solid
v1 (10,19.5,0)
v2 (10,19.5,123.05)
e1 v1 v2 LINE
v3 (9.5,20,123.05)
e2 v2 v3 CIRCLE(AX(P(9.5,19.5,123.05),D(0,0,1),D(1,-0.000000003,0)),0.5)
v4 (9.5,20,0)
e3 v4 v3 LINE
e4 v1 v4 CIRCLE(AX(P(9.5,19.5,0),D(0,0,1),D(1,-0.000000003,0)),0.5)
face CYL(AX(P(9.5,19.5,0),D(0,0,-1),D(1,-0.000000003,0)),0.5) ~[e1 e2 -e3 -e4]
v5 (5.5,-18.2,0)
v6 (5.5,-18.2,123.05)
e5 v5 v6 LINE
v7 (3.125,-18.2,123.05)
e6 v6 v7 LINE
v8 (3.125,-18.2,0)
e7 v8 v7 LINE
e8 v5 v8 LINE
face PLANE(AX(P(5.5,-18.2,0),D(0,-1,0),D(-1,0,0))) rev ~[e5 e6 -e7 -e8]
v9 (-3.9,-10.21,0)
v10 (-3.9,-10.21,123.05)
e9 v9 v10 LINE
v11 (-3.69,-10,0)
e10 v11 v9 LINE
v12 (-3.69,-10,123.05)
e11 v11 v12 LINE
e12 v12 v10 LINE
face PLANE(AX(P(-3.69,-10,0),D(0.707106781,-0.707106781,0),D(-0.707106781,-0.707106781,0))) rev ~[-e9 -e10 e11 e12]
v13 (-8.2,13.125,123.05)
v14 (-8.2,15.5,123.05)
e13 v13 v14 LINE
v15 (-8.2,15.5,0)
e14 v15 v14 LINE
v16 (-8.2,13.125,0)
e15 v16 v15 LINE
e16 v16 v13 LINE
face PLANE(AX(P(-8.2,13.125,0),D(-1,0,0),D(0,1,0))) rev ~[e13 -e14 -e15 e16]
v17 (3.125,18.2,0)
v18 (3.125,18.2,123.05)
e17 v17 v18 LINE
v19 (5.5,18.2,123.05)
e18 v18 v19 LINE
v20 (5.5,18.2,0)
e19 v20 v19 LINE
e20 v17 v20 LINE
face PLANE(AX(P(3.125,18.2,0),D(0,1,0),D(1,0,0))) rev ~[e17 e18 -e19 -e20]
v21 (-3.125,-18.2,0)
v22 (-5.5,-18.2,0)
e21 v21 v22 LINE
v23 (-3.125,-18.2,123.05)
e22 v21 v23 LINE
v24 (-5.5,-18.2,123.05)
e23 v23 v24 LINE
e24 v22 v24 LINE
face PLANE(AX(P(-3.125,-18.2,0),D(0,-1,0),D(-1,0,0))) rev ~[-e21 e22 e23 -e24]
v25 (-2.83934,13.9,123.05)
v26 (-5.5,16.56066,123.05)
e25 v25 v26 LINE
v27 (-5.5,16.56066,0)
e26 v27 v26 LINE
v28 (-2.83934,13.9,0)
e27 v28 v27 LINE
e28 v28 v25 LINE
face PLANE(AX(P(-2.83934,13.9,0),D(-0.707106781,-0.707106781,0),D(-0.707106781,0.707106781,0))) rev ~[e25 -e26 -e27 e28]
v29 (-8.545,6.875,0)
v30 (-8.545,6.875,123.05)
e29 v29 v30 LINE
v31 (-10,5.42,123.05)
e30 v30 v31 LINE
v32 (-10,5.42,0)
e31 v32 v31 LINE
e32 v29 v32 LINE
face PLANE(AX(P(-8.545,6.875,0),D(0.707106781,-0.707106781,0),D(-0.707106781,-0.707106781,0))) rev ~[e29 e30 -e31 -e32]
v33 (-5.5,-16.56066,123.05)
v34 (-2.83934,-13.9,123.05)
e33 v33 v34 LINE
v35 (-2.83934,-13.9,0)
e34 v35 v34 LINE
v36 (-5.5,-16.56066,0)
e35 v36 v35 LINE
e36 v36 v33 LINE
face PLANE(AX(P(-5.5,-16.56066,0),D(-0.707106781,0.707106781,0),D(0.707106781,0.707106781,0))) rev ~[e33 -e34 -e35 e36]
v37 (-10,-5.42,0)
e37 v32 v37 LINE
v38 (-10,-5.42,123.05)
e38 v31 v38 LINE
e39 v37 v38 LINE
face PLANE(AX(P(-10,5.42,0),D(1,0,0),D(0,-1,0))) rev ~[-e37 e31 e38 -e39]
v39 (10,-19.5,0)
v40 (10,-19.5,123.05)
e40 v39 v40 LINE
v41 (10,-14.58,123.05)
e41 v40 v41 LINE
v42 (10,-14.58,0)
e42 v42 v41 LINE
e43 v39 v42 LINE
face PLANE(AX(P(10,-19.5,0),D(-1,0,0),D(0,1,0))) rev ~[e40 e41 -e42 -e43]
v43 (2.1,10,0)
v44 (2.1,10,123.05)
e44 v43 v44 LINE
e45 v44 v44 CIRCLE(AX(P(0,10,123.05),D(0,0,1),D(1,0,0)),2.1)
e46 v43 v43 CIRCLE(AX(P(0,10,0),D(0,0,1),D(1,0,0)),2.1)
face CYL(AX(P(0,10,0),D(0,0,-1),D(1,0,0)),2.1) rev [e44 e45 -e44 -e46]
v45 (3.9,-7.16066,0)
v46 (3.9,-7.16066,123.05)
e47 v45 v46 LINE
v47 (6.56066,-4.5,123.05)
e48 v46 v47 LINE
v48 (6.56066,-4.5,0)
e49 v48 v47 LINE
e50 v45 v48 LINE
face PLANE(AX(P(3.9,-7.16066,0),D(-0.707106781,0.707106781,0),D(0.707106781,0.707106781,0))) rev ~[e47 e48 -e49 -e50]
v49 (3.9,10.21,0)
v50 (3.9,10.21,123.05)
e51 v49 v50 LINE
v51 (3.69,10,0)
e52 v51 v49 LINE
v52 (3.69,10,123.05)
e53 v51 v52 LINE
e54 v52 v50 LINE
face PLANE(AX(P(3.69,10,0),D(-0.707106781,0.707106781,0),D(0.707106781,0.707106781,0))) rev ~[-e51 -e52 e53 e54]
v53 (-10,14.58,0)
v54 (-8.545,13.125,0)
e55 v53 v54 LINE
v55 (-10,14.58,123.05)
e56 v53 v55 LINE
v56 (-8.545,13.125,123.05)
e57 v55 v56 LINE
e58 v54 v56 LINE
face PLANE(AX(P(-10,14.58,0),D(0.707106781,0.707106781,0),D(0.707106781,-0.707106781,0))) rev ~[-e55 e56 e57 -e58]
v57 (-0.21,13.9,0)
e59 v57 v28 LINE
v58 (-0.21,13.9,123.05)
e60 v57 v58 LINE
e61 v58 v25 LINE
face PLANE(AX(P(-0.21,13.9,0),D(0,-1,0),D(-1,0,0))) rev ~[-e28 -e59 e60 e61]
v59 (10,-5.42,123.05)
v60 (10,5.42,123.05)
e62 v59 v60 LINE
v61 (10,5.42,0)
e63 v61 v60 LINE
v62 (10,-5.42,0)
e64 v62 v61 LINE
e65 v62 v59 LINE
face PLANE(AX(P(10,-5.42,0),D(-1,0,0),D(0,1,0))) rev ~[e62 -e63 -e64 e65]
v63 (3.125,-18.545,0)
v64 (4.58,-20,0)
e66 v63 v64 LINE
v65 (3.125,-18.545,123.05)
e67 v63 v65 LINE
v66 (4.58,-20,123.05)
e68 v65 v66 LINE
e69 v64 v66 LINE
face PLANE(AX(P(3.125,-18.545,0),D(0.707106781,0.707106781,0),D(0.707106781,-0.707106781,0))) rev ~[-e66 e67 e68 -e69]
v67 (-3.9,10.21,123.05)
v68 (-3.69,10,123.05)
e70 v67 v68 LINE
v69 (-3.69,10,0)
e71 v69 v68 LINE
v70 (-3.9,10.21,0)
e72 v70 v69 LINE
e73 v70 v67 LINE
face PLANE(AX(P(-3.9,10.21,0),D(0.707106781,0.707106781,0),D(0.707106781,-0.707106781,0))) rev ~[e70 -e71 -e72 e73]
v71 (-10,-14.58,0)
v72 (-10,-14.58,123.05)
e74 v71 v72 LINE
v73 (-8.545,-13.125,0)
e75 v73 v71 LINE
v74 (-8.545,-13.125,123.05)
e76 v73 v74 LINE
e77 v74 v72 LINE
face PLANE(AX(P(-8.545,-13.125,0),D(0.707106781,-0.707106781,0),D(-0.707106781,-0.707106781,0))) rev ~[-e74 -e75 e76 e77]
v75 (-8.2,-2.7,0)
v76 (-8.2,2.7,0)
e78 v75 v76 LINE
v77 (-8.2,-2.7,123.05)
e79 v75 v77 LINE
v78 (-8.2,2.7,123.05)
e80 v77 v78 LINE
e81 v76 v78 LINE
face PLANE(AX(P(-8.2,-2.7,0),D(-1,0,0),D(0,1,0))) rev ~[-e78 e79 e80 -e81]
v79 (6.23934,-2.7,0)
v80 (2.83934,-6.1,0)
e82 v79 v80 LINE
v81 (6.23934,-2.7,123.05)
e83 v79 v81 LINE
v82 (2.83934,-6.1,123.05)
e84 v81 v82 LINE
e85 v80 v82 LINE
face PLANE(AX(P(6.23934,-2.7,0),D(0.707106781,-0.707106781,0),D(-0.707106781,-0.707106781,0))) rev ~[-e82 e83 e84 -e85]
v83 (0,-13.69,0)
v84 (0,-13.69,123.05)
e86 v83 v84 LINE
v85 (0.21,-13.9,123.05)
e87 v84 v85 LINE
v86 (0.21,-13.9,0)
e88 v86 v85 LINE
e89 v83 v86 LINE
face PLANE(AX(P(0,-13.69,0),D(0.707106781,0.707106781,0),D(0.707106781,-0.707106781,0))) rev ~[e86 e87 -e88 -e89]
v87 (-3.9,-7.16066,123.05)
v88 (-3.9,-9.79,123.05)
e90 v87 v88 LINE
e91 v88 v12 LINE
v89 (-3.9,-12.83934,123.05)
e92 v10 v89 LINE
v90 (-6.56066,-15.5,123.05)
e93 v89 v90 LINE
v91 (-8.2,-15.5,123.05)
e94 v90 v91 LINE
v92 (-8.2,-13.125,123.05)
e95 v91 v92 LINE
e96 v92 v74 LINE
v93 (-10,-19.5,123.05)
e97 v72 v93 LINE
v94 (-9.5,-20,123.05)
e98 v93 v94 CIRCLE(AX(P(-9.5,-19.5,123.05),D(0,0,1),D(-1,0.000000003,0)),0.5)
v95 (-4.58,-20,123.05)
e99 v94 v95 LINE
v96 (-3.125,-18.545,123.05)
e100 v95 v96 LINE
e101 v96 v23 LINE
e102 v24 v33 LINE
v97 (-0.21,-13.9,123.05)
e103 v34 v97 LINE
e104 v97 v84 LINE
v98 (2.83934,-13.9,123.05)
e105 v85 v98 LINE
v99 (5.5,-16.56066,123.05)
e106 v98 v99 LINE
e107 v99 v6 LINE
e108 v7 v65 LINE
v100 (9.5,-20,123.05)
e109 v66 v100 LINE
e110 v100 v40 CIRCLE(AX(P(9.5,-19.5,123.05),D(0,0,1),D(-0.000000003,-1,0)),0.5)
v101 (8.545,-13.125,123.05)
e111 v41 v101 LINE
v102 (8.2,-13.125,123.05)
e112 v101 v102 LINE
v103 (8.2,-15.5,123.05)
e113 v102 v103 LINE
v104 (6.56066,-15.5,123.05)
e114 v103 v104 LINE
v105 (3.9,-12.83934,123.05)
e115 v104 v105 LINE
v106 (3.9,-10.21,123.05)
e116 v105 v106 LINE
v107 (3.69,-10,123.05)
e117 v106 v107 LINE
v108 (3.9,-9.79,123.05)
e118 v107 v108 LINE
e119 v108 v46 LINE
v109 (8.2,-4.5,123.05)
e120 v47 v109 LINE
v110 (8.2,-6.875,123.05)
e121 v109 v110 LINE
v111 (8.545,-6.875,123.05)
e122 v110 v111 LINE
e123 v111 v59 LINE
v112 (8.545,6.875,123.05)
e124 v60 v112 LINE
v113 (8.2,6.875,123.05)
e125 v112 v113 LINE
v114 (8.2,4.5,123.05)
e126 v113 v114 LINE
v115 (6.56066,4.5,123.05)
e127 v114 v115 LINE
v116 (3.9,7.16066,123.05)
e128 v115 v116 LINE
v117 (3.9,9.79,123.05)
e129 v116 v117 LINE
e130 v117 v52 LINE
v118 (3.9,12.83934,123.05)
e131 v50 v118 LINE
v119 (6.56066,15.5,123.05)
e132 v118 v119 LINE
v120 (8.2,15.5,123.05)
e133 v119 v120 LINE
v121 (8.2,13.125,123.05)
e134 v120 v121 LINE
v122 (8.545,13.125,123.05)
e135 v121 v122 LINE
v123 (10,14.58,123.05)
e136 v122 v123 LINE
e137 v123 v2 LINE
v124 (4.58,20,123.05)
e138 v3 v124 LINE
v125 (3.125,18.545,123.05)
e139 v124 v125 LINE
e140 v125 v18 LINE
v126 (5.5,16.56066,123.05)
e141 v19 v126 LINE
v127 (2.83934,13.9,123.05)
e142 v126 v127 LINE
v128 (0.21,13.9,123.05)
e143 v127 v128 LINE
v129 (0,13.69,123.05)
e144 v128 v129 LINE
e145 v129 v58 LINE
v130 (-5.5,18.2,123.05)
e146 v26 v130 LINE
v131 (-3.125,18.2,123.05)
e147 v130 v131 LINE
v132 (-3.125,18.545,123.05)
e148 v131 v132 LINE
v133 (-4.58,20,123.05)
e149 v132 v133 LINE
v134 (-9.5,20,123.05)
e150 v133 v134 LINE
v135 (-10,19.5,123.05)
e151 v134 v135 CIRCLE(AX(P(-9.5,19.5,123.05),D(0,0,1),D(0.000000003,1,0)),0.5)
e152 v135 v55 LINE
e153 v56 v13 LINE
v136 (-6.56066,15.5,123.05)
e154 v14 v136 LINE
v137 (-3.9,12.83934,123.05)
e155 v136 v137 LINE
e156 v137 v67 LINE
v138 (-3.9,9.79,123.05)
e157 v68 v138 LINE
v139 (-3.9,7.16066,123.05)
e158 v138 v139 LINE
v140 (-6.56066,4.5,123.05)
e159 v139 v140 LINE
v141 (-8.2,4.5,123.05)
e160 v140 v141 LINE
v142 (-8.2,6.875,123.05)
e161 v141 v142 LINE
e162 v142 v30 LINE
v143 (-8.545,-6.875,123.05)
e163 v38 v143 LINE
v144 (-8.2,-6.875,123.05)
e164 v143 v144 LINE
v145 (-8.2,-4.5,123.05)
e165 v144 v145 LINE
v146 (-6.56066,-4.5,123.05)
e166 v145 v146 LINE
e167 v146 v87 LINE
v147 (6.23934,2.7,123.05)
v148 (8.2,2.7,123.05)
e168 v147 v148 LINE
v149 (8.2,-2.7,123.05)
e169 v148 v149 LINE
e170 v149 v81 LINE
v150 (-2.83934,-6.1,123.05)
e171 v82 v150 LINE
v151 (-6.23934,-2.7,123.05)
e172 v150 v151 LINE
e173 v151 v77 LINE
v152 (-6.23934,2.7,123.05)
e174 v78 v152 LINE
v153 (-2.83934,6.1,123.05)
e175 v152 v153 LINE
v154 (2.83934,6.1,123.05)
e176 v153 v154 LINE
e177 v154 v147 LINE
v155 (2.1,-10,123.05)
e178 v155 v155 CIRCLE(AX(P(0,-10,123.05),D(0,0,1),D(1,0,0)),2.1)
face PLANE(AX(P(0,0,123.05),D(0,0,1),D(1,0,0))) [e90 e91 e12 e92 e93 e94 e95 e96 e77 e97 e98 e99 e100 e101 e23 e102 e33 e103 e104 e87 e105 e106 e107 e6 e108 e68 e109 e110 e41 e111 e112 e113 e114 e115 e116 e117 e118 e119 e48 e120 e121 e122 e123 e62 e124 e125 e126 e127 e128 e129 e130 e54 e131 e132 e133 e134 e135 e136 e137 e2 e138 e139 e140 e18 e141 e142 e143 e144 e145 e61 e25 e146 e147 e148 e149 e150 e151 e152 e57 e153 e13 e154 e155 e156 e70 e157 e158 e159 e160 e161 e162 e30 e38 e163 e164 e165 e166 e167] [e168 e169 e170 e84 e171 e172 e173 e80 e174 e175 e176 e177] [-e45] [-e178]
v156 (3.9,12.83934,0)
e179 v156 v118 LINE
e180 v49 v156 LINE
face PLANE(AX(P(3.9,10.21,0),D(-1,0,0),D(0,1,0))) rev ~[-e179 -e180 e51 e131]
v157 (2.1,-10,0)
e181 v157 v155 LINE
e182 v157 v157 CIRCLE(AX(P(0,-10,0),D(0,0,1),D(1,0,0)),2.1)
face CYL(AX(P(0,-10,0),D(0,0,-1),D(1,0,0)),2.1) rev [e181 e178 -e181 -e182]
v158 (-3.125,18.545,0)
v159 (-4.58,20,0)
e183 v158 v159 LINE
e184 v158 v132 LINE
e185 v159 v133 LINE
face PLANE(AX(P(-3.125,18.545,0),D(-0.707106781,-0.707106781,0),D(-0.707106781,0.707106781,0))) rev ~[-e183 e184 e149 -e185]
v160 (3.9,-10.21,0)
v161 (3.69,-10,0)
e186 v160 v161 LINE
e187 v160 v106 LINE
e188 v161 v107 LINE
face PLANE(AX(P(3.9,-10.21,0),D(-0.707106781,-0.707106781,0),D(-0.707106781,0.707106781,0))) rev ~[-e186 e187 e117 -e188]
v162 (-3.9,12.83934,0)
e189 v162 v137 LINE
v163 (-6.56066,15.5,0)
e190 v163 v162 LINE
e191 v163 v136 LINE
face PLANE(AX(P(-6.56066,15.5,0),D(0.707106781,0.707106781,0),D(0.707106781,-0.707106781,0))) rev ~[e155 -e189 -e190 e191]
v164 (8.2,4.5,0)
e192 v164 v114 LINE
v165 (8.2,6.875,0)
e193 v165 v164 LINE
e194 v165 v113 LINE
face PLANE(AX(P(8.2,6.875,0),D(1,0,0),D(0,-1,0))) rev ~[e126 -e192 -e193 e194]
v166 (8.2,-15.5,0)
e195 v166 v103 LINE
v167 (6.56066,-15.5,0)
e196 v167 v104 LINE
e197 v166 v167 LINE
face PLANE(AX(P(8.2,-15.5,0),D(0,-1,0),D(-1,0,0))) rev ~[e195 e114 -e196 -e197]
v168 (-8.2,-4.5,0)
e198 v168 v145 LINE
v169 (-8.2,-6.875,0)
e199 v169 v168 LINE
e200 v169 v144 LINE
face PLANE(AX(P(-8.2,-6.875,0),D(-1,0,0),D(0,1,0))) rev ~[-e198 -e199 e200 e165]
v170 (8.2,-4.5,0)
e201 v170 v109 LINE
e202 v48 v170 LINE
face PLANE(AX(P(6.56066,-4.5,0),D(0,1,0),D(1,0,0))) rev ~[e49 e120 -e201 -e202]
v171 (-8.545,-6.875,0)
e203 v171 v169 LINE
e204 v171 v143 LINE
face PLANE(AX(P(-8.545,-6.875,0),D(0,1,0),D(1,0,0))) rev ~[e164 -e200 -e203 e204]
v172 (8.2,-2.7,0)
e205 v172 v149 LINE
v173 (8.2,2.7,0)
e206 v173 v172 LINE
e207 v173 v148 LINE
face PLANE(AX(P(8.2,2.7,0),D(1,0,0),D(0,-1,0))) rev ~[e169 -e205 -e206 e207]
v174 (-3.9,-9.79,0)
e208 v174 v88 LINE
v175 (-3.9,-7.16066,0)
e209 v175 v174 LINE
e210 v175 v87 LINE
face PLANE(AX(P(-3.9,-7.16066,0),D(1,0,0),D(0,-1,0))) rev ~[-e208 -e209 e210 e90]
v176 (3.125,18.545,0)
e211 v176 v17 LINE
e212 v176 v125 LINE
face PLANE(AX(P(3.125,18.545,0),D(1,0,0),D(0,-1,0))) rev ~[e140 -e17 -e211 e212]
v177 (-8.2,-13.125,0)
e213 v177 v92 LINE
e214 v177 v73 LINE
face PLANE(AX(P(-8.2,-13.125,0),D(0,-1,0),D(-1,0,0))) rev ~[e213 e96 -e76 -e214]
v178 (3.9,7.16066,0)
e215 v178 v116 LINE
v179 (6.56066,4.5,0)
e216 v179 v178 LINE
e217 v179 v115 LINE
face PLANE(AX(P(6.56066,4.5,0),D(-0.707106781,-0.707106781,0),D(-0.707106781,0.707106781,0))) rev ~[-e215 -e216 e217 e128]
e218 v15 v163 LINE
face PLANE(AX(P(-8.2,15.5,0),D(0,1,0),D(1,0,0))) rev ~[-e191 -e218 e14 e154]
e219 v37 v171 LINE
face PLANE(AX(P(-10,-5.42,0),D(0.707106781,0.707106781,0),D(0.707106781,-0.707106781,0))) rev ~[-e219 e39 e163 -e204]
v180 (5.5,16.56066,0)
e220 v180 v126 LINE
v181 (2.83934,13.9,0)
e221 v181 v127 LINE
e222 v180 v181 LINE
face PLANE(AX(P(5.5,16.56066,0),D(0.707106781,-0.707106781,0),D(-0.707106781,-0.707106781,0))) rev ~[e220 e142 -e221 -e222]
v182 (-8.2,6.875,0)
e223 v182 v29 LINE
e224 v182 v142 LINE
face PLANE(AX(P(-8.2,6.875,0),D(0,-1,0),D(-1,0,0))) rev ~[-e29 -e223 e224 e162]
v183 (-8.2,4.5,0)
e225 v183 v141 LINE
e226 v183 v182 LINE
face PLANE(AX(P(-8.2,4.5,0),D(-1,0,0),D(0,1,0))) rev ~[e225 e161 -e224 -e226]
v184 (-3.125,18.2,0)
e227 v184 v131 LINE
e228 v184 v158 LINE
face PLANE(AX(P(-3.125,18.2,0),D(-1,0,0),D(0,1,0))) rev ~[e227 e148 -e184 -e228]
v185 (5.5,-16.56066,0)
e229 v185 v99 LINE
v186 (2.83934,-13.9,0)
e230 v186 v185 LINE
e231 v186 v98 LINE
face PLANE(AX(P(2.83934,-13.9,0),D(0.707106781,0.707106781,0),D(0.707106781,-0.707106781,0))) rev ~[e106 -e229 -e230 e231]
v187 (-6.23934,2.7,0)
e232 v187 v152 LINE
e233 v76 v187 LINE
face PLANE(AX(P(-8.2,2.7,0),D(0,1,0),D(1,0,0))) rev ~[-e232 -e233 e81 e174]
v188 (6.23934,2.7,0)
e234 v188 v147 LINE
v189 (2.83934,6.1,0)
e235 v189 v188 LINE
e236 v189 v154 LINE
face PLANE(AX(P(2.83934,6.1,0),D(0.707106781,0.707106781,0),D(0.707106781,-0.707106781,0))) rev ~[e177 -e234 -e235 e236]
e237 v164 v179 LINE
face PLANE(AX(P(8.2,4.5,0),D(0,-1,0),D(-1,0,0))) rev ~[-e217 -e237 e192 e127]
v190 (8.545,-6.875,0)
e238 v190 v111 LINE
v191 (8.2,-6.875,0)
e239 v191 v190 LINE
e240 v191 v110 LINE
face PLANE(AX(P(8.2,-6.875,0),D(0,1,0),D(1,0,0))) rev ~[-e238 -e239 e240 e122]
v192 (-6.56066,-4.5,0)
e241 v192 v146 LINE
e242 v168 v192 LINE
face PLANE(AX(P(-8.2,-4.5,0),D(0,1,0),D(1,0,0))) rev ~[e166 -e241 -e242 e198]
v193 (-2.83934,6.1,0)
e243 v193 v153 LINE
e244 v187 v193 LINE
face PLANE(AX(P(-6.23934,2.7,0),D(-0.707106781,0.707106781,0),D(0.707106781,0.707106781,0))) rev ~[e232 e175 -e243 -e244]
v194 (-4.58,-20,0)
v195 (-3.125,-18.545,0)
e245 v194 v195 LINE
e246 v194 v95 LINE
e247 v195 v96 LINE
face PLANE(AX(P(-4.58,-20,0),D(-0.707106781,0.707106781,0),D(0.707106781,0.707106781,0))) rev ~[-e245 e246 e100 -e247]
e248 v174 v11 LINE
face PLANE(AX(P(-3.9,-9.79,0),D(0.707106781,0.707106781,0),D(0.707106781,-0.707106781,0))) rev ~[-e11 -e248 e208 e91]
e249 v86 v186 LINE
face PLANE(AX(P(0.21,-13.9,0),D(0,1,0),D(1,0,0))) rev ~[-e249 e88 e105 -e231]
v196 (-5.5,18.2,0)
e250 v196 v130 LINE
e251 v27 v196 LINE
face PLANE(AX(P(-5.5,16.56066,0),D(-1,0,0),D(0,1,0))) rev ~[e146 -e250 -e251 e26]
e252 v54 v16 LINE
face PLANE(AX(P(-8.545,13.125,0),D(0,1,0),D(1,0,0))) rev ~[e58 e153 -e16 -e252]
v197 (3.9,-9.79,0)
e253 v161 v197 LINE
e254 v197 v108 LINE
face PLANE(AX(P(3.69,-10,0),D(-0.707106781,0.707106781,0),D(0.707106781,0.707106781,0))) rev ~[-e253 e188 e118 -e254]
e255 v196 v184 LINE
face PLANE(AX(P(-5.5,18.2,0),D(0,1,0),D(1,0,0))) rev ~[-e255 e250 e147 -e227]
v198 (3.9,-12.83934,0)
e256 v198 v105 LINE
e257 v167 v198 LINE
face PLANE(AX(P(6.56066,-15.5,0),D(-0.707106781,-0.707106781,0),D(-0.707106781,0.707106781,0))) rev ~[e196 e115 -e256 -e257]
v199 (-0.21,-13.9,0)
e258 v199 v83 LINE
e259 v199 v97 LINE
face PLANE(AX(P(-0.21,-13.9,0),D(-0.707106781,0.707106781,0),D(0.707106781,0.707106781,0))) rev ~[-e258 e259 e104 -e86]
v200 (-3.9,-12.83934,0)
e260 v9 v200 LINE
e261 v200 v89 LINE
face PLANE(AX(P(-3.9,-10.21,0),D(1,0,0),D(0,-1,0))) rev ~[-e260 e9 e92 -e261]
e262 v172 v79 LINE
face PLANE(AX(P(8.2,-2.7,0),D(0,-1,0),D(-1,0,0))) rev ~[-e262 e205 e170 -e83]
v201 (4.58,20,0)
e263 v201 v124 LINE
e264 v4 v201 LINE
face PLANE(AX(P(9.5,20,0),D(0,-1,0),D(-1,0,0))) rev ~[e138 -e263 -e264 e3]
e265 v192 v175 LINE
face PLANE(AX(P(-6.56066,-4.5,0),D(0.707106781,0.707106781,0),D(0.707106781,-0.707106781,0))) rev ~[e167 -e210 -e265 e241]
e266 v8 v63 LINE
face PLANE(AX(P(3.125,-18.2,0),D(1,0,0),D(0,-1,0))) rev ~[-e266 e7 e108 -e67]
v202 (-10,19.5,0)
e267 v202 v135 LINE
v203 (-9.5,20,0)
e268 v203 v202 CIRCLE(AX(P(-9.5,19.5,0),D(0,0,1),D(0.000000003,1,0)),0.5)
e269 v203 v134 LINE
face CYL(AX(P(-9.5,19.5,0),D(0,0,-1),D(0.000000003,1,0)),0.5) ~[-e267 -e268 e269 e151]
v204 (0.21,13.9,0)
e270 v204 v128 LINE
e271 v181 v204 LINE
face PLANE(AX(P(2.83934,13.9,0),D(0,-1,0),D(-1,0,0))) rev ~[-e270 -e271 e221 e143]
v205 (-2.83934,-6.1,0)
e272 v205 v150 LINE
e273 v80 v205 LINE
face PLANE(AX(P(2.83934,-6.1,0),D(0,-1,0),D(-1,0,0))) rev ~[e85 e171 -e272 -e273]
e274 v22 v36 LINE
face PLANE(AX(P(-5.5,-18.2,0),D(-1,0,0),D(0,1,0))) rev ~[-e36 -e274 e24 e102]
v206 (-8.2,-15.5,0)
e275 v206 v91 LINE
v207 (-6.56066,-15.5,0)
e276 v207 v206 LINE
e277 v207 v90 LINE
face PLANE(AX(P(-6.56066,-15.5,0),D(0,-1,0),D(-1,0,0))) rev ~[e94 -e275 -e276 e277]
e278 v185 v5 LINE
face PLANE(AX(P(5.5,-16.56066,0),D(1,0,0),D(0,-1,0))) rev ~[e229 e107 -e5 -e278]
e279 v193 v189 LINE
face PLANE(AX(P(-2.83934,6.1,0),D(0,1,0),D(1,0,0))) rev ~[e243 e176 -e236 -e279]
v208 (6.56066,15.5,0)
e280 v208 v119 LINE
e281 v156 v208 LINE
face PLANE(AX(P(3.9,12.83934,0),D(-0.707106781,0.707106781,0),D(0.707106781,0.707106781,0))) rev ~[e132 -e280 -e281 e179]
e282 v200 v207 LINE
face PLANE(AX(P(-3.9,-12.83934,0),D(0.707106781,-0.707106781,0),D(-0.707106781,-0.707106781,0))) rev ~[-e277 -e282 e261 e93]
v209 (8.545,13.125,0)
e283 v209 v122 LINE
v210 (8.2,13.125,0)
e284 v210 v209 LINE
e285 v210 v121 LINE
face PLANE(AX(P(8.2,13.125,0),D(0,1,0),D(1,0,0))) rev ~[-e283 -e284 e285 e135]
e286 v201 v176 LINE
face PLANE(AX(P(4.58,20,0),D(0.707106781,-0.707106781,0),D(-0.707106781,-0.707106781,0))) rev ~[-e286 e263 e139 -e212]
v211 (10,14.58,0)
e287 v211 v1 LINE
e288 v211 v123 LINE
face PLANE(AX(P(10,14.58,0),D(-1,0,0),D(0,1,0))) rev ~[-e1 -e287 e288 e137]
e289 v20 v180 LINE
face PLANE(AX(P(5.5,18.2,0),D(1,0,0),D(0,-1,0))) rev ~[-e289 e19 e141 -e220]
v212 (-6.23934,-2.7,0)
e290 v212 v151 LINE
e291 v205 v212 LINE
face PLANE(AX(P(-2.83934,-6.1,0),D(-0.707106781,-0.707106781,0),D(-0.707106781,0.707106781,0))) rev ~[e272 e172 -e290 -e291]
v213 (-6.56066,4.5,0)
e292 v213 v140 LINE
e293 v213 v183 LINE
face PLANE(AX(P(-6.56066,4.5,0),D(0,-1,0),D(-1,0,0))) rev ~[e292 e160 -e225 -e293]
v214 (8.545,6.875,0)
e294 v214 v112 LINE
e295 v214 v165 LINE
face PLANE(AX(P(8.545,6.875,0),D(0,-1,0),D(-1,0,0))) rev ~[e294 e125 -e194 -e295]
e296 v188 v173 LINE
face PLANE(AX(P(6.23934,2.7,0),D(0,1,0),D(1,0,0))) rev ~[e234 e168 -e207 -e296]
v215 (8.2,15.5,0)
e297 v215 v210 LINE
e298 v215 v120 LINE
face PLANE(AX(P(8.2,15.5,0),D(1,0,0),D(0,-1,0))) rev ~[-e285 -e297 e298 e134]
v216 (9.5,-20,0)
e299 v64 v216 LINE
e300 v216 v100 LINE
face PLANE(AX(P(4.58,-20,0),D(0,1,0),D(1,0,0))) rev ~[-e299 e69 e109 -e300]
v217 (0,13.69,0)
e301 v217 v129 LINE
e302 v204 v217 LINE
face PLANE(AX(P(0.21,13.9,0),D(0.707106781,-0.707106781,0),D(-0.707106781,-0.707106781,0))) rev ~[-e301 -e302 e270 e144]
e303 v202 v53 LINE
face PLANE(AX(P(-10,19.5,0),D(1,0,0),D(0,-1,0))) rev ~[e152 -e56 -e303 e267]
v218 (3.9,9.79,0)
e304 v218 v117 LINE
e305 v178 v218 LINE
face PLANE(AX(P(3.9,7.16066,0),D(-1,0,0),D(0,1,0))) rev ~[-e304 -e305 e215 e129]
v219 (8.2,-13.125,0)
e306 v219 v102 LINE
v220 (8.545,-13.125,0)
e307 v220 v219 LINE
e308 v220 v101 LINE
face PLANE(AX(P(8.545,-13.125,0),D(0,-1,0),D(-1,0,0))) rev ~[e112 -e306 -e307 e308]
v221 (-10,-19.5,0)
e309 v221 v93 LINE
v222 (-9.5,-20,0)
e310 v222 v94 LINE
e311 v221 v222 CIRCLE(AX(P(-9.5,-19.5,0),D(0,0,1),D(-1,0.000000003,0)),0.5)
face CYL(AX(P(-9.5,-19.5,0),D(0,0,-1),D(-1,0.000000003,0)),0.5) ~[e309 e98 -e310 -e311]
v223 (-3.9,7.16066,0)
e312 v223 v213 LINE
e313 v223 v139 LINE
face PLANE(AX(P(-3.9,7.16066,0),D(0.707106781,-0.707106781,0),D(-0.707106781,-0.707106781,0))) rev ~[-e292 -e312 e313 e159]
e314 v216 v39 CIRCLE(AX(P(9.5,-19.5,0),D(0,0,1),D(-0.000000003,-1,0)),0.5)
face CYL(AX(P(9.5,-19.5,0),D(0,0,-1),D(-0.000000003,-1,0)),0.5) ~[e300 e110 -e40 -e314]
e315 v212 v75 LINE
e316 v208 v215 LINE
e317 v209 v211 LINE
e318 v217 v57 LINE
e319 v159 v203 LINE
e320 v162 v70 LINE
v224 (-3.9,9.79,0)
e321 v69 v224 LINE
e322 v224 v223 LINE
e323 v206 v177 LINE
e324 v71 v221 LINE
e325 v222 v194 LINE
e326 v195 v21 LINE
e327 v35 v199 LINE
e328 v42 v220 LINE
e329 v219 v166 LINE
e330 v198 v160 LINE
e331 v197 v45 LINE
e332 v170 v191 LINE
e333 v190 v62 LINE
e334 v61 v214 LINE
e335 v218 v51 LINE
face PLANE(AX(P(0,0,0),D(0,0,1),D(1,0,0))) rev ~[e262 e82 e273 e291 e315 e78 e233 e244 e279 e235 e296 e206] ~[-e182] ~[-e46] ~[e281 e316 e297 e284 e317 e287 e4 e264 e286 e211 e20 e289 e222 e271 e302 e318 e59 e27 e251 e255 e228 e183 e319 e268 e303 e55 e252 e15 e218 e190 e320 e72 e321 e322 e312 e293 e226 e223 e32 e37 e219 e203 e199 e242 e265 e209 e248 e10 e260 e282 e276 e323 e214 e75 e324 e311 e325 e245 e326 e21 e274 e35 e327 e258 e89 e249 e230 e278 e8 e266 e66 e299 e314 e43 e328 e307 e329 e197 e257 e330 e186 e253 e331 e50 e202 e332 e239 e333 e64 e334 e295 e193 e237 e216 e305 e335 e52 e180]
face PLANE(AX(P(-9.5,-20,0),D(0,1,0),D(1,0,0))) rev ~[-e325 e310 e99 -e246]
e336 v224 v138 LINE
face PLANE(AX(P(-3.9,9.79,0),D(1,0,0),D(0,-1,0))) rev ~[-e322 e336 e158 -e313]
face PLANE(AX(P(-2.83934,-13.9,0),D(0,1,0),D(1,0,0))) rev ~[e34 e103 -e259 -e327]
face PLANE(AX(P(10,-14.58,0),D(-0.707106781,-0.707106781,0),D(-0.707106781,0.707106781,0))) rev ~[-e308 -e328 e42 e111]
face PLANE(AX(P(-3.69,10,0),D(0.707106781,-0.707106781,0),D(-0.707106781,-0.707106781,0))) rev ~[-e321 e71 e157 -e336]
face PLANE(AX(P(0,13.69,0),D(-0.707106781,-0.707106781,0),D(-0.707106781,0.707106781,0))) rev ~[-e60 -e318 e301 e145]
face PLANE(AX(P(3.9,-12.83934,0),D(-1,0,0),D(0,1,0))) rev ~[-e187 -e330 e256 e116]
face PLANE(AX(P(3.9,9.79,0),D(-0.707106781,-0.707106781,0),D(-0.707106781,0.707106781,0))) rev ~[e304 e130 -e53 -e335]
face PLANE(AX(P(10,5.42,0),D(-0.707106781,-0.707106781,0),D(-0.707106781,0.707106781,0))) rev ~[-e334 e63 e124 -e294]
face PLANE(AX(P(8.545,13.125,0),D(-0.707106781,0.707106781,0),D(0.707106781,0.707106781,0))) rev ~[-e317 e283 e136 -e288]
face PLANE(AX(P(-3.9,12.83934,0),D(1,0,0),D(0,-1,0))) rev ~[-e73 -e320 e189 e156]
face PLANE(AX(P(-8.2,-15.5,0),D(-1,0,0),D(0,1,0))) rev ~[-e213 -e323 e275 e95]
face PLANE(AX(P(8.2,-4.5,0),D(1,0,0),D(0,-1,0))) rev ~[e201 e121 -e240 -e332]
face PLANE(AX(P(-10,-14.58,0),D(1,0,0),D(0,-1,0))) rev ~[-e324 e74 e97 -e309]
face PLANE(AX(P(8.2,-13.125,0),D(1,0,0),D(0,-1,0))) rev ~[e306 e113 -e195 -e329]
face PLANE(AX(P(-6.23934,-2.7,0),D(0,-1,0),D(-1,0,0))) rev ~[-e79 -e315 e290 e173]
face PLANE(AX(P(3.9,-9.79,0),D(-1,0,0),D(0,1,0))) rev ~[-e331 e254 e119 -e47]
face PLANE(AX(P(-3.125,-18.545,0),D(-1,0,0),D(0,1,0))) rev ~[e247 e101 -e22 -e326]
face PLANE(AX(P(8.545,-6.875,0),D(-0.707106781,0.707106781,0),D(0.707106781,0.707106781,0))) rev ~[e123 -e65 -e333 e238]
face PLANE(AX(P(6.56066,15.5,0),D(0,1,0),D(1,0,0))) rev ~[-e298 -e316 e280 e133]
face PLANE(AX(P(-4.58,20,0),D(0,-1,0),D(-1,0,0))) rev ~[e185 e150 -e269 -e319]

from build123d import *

# Parameters (mm, degrees)
SKETCH1_R           = 2.1
BOSS_EXTRUDE1_DEPTH = 123.05


with BuildPart() as part:
    # Sketch1 → Boss-Extrude1 (new body)
    with BuildSketch(Plane.XY):
        with BuildLine():
            Line((4.58, -20), (9.5, -20))
            ThreePointArc((9.5, -20), (9.853553391, -19.853553391), (10, -19.5))
            Line((10, -19.5), (10, -14.58))
            Line((10, -14.58), (8.545, -13.125))
            Line((8.545, -13.125), (8.2, -13.125))
            Line((8.2, -13.125), (8.2, -15.5))
            Line((8.2, -15.5), (6.560660172, -15.5))
            Line((6.560660172, -15.5), (3.9, -12.839339828))
            Line((3.9, -12.839339828), (3.9, -10.21))
            Line((3.9, -10.21), (3.69, -10))
            Line((3.69, -10), (3.9, -9.79))
            Line((3.9, -9.79), (3.9, -7.160660172))
            Line((3.9, -7.160660172), (6.560660172, -4.5))
            Line((6.560660172, -4.5), (8.2, -4.5))
            Line((8.2, -4.5), (8.2, -6.875))
            Line((8.2, -6.875), (8.545, -6.875))
            Line((8.545, -6.875), (10, -5.42))
            Line((10, -5.42), (10, 5.42))
            Line((10, 5.42), (8.545, 6.875))
            Line((8.545, 6.875), (8.2, 6.875))
            Line((8.2, 6.875), (8.2, 4.5))
            Line((8.2, 4.5), (6.560660172, 4.5))
            Line((6.560660172, 4.5), (3.9, 7.160660172))
            Line((3.9, 7.160660172), (3.9, 9.79))
            Line((3.9, 9.79), (3.69, 10))
            Line((3.69, 10), (3.9, 10.21))
            Line((3.9, 10.21), (3.9, 12.839339828))
            Line((3.9, 12.839339828), (6.560660172, 15.5))
            Line((6.560660172, 15.5), (8.2, 15.5))
            Line((8.2, 15.5), (8.2, 13.125))
            Line((8.2, 13.125), (8.545, 13.125))
            Line((8.545, 13.125), (10, 14.58))
            Line((10, 14.58), (10, 19.5))
            ThreePointArc((10, 19.5), (9.853553391, 19.853553391), (9.5, 20))
            Line((9.5, 20), (4.58, 20))
            Line((4.58, 20), (3.125, 18.545))
            Line((3.125, 18.545), (3.125, 18.2))
            Line((3.125, 18.2), (5.5, 18.2))
            Line((5.5, 18.2), (5.5, 16.560660172))
            Line((5.5, 16.560660172), (2.839339828, 13.9))
            Line((2.839339828, 13.9), (0.21, 13.9))
            Line((0.21, 13.9), (0, 13.69))
            Line((0, 13.69), (-0.21, 13.9))
            Line((-0.21, 13.9), (-2.839339828, 13.9))
            Line((-2.839339828, 13.9), (-5.5, 16.560660172))
            Line((-5.5, 16.560660172), (-5.5, 18.2))
            Line((-5.5, 18.2), (-3.125, 18.2))
            Line((-3.125, 18.2), (-3.125, 18.545))
            Line((-3.125, 18.545), (-4.58, 20))
            Line((-4.58, 20), (-9.5, 20))
            ThreePointArc((-9.5, 20), (-9.853553391, 19.853553391), (-10, 19.5))
            Line((-10, 19.5), (-10, 14.58))
            Line((-10, 14.58), (-8.545, 13.125))
            Line((-8.545, 13.125), (-8.2, 13.125))
            Line((-8.2, 13.125), (-8.2, 15.5))
            Line((-8.2, 15.5), (-6.560660172, 15.5))
            Line((-6.560660172, 15.5), (-3.9, 12.839339828))
            Line((-3.9, 12.839339828), (-3.9, 10.21))
            Line((-3.9, 10.21), (-3.69, 10))
            Line((-3.69, 10), (-3.9, 9.79))
            Line((-3.9, 9.79), (-3.9, 7.160660172))
            Line((-3.9, 7.160660172), (-6.560660172, 4.5))
            Line((-6.560660172, 4.5), (-8.2, 4.5))
            Line((-8.2, 4.5), (-8.2, 6.875))
            Line((-8.2, 6.875), (-8.545, 6.875))
            Line((-8.545, 6.875), (-10, 5.42))
            Line((-10, 5.42), (-10, -5.42))
            Line((-10, -5.42), (-8.545, -6.875))
            Line((-8.545, -6.875), (-8.2, -6.875))
            Line((-8.2, -6.875), (-8.2, -4.5))
            Line((-8.2, -4.5), (-6.560660172, -4.5))
            Line((-6.560660172, -4.5), (-3.9, -7.160660172))
            Line((-3.9, -7.160660172), (-3.9, -9.79))
            Line((-3.9, -9.79), (-3.69, -10))
            Line((-3.69, -10), (-3.9, -10.21))
            Line((-3.9, -10.21), (-3.9, -12.839339828))
            Line((-3.9, -12.839339828), (-6.560660172, -15.5))
            Line((-6.560660172, -15.5), (-8.2, -15.5))
            Line((-8.2, -15.5), (-8.2, -13.125))
            Line((-8.2, -13.125), (-8.545, -13.125))
            Line((-8.545, -13.125), (-10, -14.58))
            Line((-10, -14.58), (-10, -19.5))
            ThreePointArc((-10, -19.5), (-9.853553391, -19.853553391), (-9.5, -20))
            Line((-9.5, -20), (-4.58, -20))
            Line((-4.58, -20), (-3.125, -18.545))
            Line((-3.125, -18.545), (-3.125, -18.2))
            Line((-3.125, -18.2), (-5.5, -18.2))
            Line((-5.5, -18.2), (-5.5, -16.560660172))
            Line((-5.5, -16.560660172), (-2.839339828, -13.9))
            Line((-2.839339828, -13.9), (-0.21, -13.9))
            Line((-0.21, -13.9), (0, -13.69))
            Line((0, -13.69), (0.21, -13.9))
            Line((0.21, -13.9), (2.839339828, -13.9))
            Line((2.839339828, -13.9), (5.5, -16.560660172))
            Line((5.5, -16.560660172), (5.5, -18.2))
            Line((5.5, -18.2), (3.125, -18.2))
            Line((3.125, -18.2), (3.125, -18.545))
            Line((3.125, -18.545), (4.58, -20))
        make_face()
        with Locations((0, -10)):
            Circle(SKETCH1_R, mode=Mode.SUBTRACT)
        Polygon((-6.239339828, -2.7), (-8.2, -2.7), (-8.2, 2.7), (-6.239339828, 2.7), (-2.839339828, 6.1), (2.839339828, 6.1), (6.239339828, 2.7), (8.2, 2.7), (8.2, -2.7), (6.239339828, -2.7), (2.839339828, -6.1), (-2.839339828, -6.1), align=None, mode=Mode.SUBTRACT)
        with Locations((0, 10)):
            Circle(SKETCH1_R, mode=Mode.SUBTRACT)
    extrude(amount=BOSS_EXTRUDE1_DEPTH)


solid = part.part
